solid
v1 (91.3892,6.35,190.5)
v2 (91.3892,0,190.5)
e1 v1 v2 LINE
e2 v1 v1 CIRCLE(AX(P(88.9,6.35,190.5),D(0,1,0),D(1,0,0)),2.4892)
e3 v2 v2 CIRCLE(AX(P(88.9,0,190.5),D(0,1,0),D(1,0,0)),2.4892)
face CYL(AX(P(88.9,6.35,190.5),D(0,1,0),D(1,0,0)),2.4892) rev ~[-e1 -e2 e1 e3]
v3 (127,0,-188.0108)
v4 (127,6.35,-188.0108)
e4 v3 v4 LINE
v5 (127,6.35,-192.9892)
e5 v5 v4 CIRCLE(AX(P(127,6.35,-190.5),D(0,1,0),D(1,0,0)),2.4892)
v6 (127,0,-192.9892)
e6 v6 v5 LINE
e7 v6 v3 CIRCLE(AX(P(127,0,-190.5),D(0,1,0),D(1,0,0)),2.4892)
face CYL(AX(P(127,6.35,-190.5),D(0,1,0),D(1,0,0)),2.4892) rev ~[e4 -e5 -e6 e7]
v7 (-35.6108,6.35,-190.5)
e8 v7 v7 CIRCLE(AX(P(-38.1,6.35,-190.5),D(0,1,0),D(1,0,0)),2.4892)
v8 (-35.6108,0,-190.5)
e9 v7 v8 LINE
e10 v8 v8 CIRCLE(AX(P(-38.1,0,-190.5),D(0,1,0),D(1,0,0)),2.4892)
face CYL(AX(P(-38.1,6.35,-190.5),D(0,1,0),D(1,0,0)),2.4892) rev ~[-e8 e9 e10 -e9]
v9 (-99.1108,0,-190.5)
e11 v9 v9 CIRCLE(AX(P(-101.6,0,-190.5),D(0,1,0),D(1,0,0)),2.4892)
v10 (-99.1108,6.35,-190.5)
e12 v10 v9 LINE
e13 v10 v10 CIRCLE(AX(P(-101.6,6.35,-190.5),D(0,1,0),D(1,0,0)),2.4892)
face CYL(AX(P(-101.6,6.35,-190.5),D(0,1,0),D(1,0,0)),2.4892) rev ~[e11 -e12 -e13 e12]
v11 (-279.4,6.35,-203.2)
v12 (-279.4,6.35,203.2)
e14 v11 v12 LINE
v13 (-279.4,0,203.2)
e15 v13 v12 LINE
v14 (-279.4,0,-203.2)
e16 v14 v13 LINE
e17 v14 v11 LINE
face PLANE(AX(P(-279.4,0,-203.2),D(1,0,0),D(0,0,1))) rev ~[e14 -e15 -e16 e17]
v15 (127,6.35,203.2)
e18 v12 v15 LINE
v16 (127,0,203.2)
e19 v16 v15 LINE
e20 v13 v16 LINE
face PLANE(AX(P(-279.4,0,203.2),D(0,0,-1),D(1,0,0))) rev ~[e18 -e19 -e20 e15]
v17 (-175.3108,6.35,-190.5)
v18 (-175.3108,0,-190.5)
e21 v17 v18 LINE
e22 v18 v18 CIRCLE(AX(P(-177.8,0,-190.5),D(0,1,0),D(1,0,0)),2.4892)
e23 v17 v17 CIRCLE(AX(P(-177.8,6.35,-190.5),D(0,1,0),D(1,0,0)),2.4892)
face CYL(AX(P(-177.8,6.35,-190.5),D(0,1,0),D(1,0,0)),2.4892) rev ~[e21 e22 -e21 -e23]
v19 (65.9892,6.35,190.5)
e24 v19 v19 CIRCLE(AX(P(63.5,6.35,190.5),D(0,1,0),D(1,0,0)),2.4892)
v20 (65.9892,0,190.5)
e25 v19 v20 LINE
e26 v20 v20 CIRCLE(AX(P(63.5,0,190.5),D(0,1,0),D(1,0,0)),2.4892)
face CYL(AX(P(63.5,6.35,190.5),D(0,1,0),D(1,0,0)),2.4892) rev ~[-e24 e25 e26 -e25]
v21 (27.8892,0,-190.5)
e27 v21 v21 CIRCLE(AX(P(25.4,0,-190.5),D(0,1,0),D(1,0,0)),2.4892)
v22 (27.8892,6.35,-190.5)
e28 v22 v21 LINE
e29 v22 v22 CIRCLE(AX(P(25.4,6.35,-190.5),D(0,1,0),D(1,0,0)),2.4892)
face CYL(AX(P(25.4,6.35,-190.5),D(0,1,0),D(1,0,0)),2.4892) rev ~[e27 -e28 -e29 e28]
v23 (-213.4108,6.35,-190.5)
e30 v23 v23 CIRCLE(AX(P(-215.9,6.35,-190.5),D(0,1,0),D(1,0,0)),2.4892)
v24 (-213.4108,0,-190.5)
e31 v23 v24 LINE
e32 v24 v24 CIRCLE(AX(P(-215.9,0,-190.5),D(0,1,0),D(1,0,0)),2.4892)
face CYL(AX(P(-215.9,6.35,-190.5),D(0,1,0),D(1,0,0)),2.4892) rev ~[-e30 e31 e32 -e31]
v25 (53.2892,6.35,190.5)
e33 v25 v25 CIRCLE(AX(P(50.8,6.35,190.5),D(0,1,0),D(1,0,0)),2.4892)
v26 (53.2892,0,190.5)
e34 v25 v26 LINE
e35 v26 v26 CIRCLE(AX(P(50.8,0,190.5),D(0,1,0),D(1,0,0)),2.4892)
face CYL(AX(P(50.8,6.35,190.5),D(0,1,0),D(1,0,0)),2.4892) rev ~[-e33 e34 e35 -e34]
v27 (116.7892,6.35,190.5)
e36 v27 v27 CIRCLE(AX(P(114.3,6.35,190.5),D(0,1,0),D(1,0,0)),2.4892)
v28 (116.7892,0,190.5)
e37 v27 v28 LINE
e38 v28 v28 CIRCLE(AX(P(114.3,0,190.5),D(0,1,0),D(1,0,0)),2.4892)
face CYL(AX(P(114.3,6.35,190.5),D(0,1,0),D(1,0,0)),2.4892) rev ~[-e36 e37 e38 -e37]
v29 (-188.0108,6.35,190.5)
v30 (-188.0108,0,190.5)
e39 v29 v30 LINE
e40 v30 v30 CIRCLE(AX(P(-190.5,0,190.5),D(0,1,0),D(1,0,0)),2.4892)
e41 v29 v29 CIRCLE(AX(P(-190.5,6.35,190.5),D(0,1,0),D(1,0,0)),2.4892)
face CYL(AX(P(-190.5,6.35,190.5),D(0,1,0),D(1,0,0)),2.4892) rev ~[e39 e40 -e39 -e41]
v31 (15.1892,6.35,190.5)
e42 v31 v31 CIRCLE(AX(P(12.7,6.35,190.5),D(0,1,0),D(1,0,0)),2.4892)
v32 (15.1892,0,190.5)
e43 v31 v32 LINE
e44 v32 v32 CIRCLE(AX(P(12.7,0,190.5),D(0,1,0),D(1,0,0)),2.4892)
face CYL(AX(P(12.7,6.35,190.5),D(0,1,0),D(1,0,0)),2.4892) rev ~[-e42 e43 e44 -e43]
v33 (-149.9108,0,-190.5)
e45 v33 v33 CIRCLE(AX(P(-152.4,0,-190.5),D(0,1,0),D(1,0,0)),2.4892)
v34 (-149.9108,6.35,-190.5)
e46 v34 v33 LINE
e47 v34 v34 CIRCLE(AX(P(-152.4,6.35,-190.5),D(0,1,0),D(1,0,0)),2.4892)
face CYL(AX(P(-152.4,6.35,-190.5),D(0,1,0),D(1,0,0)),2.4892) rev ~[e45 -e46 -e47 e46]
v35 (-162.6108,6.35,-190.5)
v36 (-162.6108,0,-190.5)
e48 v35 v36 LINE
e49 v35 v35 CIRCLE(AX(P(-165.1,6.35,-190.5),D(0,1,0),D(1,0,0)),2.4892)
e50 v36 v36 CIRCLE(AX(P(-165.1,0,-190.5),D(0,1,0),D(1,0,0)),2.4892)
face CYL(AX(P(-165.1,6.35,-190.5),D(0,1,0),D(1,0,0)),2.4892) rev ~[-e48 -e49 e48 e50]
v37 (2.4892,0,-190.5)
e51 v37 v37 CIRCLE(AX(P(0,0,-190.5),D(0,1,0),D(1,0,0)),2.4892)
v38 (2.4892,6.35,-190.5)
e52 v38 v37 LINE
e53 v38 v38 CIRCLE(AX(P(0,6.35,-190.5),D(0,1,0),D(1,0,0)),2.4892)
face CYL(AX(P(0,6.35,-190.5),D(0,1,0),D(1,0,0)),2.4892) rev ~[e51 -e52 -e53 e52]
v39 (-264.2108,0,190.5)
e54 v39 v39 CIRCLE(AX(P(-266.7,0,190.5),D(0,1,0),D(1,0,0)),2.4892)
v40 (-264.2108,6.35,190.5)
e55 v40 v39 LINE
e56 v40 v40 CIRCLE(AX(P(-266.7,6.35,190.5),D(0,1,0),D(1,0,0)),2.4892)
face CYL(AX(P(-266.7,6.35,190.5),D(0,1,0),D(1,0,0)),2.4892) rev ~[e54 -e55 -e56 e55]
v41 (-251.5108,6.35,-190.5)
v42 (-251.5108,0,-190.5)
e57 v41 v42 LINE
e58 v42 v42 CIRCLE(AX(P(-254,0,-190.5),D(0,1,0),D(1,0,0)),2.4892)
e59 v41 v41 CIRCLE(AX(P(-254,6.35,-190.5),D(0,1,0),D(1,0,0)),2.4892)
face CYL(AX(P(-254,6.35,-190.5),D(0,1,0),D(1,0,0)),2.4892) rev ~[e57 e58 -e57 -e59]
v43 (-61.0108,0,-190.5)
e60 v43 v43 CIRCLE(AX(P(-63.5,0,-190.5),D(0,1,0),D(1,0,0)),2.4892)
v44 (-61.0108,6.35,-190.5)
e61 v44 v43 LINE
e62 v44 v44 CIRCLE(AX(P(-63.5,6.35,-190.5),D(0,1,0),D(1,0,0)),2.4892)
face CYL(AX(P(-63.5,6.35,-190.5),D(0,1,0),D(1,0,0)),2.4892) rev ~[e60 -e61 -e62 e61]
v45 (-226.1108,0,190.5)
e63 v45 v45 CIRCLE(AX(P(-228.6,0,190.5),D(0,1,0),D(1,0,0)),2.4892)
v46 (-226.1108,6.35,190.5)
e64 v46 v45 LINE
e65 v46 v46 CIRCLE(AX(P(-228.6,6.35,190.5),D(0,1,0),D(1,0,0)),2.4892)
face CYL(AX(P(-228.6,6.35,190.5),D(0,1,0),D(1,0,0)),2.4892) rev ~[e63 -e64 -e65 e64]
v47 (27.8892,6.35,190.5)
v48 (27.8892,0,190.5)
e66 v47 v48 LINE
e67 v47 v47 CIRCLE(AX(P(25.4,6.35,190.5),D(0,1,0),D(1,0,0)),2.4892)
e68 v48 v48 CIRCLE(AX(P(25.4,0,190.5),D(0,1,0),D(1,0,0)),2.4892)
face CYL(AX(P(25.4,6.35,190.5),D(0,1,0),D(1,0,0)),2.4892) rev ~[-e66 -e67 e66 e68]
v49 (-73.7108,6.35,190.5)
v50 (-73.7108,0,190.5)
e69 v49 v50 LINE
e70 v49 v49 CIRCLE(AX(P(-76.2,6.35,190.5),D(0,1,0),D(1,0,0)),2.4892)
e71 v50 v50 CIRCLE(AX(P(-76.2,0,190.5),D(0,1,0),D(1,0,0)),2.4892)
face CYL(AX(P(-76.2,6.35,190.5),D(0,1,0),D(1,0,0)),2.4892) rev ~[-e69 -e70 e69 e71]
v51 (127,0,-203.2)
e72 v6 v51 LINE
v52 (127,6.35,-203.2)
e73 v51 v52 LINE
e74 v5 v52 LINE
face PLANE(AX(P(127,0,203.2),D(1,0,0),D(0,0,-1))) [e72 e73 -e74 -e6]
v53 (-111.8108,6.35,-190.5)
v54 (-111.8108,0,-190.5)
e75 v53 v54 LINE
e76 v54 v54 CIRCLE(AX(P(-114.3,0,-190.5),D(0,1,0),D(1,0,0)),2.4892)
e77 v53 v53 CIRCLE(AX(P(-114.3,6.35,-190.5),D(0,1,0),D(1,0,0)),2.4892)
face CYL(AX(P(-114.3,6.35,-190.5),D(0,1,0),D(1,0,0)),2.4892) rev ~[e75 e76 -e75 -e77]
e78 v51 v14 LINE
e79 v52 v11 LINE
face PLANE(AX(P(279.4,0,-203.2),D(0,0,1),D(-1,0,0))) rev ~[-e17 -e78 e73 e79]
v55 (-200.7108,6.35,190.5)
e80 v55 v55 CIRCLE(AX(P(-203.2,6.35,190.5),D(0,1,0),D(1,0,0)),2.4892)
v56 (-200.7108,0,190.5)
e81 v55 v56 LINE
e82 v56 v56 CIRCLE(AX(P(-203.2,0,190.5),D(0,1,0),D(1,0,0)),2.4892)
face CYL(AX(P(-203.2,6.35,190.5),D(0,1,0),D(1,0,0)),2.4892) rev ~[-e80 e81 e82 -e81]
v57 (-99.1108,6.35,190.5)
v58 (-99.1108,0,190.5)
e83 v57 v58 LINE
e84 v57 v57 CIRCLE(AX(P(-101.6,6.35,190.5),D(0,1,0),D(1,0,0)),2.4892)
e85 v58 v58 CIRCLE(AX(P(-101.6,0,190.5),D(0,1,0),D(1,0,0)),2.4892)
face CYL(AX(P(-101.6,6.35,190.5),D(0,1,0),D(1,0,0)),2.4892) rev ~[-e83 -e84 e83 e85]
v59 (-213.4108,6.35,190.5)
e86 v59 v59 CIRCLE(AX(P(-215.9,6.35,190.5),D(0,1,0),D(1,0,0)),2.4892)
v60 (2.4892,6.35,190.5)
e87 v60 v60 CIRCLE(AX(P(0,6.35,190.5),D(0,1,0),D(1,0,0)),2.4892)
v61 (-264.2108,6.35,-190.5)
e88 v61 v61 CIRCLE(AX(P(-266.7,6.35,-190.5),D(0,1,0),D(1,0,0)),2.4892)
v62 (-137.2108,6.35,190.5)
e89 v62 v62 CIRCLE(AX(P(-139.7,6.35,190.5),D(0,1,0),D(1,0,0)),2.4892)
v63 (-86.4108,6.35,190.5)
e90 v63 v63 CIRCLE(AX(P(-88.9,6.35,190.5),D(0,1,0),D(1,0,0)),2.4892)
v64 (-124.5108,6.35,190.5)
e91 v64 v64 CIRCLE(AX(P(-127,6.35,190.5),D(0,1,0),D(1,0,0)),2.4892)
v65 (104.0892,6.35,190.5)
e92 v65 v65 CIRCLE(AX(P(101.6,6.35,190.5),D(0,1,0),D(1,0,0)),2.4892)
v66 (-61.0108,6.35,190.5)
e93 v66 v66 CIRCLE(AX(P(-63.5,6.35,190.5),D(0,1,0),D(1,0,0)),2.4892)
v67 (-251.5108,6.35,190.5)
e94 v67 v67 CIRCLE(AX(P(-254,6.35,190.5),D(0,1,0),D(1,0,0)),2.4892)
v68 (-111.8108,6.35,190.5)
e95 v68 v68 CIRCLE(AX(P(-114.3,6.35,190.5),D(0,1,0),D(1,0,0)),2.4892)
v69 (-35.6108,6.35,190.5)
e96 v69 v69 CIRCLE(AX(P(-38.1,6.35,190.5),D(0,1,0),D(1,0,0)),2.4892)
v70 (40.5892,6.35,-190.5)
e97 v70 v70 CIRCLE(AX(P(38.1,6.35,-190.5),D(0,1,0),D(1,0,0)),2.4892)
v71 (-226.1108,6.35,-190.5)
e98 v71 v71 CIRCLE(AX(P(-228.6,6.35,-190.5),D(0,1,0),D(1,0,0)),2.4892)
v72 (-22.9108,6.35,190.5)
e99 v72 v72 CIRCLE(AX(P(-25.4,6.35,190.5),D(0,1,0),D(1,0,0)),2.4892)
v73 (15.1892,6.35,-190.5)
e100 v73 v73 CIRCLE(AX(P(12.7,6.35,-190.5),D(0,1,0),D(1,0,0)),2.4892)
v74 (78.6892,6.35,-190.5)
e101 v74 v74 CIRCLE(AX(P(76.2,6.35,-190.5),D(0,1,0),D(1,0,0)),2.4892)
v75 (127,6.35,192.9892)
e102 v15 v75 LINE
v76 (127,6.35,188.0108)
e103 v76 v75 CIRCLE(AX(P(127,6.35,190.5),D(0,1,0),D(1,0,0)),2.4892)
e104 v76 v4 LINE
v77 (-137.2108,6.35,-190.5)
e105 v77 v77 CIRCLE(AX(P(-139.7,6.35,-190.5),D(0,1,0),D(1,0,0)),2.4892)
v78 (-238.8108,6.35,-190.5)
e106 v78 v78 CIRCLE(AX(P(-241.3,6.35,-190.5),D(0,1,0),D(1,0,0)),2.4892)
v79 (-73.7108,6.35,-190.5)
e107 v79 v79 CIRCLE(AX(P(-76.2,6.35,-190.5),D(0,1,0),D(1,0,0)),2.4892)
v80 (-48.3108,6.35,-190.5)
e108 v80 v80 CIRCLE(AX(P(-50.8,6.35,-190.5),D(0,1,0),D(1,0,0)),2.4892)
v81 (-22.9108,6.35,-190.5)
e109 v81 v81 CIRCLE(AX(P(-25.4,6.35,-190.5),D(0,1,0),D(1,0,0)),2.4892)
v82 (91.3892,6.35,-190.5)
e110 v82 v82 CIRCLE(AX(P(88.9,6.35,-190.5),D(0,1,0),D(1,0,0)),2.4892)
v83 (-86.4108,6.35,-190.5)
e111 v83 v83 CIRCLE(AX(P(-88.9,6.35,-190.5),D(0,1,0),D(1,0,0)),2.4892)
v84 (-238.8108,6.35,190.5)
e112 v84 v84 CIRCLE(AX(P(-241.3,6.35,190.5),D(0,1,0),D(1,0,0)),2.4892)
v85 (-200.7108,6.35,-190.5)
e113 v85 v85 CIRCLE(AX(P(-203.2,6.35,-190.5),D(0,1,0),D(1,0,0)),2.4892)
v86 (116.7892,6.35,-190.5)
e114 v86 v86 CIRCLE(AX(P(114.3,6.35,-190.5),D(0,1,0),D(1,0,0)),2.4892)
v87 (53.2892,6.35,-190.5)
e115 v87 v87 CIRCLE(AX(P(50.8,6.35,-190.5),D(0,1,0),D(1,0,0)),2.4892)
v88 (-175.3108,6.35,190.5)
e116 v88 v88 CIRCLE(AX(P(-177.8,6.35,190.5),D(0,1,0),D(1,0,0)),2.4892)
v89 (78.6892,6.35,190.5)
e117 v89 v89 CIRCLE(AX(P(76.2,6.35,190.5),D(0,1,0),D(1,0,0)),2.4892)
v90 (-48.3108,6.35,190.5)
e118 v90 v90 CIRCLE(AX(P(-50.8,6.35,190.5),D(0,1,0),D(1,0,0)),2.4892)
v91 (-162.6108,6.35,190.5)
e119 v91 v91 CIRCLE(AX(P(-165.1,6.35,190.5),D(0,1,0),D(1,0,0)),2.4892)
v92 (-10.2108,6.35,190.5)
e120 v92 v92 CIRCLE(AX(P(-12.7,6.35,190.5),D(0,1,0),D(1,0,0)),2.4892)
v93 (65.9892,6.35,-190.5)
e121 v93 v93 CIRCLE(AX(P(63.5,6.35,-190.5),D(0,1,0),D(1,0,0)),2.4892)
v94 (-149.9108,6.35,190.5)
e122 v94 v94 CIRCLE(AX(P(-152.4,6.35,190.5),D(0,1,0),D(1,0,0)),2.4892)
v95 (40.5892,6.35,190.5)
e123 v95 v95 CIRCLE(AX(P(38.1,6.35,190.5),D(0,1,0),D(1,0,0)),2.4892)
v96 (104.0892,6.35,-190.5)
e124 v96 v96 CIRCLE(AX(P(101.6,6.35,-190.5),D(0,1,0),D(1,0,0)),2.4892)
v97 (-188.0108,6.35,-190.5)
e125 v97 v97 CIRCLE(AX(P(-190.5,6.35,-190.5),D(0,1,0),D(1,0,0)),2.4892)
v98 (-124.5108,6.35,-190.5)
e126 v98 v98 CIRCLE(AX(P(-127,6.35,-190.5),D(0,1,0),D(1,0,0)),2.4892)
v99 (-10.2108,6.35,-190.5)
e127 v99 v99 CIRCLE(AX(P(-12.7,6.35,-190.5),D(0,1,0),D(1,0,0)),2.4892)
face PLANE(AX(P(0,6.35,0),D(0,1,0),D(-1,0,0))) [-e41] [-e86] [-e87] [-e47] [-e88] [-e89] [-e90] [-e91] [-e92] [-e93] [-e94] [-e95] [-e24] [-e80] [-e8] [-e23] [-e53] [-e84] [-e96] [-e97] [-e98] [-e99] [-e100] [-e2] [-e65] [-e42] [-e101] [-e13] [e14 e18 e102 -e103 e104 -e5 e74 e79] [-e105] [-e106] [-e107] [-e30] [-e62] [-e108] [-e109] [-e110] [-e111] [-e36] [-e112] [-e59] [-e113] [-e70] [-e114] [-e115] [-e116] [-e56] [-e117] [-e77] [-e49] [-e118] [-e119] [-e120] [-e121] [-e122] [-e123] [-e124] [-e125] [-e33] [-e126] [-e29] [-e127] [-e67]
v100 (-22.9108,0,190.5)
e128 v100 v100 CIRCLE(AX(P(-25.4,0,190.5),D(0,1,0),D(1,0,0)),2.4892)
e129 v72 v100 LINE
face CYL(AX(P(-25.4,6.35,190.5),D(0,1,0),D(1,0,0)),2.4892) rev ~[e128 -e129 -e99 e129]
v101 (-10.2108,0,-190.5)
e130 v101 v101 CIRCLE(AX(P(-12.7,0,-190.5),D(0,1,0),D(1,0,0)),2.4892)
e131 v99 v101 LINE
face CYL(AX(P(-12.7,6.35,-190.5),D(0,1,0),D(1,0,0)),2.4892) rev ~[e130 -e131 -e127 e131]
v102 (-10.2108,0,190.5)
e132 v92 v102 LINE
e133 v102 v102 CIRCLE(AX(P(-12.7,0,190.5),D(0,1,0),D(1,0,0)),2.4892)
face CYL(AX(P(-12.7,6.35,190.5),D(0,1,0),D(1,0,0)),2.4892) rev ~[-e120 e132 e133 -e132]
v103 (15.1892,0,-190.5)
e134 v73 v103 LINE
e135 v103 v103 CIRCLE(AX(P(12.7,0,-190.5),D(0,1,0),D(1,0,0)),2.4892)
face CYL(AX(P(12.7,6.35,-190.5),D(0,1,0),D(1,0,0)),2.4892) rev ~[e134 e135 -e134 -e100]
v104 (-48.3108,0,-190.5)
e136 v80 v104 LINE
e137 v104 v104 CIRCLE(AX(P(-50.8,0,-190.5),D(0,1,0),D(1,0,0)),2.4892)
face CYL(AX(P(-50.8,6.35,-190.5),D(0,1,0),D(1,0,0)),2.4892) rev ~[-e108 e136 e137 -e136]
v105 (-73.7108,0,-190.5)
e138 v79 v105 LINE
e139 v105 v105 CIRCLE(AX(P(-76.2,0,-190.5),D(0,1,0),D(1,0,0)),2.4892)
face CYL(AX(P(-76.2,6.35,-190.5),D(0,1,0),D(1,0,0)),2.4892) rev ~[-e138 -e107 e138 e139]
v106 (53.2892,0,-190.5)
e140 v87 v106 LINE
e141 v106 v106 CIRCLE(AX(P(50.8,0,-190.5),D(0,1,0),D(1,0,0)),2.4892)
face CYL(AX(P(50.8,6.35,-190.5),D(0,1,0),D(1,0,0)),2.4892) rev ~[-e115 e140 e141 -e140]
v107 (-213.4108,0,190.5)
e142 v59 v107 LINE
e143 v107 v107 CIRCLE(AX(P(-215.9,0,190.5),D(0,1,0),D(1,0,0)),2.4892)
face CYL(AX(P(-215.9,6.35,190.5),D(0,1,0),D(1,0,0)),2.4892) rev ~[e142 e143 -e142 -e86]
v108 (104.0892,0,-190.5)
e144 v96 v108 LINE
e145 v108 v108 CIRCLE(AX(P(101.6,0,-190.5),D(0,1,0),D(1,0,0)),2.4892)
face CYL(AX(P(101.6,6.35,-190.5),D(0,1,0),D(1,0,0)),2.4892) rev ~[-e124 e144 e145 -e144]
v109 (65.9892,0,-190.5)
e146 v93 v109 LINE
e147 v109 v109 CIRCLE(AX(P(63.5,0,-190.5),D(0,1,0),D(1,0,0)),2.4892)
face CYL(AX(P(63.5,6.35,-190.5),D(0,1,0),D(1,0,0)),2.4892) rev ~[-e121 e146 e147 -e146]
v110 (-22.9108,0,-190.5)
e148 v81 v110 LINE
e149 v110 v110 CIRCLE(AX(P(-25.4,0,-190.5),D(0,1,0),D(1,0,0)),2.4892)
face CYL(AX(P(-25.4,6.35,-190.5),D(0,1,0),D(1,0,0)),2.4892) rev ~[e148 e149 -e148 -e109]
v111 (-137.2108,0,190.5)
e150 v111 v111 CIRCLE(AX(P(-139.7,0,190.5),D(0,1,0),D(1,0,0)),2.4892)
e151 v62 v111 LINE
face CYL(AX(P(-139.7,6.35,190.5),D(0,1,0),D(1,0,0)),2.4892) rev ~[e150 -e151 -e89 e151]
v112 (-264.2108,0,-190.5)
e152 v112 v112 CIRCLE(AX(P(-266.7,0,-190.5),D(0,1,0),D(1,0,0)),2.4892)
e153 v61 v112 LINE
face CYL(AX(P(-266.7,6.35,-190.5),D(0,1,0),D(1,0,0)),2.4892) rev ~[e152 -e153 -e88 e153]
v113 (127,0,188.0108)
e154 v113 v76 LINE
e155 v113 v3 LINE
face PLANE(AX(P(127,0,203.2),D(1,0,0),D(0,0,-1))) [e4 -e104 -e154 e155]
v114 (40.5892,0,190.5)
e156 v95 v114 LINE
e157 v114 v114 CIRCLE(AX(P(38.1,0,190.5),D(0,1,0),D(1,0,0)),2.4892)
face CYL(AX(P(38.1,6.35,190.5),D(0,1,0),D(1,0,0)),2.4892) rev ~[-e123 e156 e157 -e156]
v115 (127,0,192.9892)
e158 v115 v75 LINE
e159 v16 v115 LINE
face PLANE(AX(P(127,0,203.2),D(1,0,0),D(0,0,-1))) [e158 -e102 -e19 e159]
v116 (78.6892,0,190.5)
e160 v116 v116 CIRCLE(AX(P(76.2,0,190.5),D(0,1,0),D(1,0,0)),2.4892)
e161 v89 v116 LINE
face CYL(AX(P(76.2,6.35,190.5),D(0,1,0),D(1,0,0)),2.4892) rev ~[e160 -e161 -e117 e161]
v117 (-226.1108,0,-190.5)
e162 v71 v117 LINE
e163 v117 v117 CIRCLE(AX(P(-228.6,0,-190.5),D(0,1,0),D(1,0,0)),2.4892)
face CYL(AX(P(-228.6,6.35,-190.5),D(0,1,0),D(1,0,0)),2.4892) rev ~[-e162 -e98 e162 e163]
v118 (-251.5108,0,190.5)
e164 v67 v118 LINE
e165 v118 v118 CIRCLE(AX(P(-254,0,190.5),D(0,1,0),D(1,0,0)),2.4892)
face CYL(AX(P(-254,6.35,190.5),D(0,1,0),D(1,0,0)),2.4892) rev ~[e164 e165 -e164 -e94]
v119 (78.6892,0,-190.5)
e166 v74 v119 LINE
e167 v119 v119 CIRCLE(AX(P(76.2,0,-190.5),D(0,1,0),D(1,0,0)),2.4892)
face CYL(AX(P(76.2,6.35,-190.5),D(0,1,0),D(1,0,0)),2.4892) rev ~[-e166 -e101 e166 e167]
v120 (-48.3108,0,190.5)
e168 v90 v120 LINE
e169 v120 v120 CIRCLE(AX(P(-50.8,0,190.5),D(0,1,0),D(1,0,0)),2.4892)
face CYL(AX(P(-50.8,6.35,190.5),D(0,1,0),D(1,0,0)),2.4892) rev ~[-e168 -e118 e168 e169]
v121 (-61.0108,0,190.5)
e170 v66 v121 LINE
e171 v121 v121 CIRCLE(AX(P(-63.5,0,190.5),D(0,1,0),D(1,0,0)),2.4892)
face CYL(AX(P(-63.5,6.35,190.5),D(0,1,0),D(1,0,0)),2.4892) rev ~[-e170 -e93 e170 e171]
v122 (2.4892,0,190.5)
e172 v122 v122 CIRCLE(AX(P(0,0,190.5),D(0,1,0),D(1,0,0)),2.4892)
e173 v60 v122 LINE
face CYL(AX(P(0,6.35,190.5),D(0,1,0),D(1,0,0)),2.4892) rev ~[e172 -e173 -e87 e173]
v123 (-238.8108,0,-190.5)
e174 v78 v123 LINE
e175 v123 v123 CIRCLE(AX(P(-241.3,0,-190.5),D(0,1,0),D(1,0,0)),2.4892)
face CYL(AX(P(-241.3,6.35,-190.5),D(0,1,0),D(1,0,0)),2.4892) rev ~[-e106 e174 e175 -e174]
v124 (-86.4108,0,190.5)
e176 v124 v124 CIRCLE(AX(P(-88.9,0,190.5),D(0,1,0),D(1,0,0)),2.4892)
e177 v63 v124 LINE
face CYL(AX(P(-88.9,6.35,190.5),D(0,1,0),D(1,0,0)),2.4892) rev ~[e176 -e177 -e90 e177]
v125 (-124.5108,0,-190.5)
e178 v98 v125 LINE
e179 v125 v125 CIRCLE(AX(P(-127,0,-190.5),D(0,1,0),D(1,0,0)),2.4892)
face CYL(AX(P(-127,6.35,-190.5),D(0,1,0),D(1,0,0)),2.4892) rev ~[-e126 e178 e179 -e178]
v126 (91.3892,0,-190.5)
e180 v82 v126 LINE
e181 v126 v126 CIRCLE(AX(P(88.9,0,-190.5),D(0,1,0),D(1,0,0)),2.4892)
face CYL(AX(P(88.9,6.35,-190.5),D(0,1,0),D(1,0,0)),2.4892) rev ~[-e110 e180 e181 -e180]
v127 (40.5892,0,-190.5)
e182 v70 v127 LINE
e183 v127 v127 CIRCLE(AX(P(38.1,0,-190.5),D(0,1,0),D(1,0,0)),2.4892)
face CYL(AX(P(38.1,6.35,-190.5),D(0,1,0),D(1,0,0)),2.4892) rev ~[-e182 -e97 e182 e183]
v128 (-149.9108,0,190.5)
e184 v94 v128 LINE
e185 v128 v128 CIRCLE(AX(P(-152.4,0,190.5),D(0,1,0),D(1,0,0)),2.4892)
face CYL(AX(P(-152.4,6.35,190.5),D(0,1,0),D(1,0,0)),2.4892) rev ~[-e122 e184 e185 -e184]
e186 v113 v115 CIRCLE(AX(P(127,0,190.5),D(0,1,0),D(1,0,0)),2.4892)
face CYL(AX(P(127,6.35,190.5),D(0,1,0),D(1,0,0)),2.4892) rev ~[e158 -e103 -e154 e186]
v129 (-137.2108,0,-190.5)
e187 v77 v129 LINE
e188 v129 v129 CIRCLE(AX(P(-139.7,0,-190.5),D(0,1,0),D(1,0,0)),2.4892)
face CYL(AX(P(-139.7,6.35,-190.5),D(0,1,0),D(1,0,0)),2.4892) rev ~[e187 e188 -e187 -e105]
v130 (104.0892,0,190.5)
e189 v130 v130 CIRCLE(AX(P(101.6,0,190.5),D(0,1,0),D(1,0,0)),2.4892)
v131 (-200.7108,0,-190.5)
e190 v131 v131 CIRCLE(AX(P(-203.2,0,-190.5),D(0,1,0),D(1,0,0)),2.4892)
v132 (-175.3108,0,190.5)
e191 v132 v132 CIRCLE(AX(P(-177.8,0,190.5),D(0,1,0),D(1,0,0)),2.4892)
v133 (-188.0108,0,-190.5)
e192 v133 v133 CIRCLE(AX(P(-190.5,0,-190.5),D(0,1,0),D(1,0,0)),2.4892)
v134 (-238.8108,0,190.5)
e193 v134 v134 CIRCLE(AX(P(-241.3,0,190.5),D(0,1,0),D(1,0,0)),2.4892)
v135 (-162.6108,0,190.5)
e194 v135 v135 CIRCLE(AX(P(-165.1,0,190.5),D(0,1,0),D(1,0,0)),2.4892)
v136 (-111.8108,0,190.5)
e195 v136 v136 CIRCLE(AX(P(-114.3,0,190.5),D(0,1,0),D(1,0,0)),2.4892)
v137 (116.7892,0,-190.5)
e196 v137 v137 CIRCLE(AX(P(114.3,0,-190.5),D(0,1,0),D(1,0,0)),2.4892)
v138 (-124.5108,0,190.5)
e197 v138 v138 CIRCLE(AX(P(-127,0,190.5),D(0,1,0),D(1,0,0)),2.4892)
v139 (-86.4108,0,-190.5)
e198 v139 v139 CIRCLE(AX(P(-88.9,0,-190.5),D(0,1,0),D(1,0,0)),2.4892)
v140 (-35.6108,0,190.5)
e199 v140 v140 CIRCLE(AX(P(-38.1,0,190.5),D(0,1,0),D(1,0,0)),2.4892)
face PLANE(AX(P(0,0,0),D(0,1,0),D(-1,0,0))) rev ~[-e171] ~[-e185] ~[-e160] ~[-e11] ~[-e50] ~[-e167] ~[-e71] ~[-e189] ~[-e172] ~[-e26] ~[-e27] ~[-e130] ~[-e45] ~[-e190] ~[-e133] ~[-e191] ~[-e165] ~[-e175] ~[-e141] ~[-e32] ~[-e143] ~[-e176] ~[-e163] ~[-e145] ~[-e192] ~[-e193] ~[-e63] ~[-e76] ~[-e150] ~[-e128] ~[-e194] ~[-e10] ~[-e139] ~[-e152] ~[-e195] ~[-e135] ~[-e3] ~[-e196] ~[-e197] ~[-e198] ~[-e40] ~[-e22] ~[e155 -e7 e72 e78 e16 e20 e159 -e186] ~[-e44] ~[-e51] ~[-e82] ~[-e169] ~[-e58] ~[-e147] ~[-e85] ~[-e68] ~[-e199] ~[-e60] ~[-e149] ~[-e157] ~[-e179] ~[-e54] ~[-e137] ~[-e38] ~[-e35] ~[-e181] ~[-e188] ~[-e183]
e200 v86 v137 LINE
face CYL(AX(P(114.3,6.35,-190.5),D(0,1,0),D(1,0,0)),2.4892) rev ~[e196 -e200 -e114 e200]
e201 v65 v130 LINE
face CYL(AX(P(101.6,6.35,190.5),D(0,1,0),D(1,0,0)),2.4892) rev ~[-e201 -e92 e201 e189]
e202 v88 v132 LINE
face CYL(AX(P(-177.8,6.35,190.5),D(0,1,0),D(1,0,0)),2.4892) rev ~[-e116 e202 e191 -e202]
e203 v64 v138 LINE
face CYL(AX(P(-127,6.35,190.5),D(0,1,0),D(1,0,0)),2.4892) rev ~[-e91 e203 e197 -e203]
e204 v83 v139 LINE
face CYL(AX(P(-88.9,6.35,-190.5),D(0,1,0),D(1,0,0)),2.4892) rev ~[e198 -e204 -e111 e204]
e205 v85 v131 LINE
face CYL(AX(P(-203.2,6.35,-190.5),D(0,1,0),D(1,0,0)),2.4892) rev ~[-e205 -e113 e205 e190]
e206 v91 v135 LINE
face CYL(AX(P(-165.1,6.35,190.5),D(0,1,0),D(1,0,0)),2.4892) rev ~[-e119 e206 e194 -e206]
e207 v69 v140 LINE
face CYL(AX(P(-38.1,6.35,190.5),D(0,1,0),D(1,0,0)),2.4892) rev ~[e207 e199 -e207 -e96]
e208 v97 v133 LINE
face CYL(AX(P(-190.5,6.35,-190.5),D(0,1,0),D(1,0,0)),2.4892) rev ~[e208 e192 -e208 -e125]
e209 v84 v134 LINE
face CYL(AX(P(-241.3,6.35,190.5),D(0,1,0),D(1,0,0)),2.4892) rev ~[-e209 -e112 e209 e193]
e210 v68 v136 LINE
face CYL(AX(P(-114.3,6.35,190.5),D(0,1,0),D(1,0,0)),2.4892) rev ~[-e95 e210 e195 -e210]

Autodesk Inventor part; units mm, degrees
ref_plane "YZ Plane" through (0, 0, 0) normal (1, 0, 0) x (0, 1, 0)
ref_plane "XZ Plane" through (0, 0, 0) normal (0, 1, 0) x (-1, 0, 0)
ref_plane "XY Plane" through (0, 0, 0) normal (0, 0, 1) x (1, 0, 0)
sketch "Sketch1" plane through (0, 0, 0) normal (0, 1, 0) x (-1, 0, 0)
  line L0 (279.4, 203.2) -> (-279.4, 203.2)
  line L1 (-279.4, 203.2) -> (-279.4, -203.2)
  line L2 (-279.4, -203.2) -> (279.4, -203.2)
  line L3 (279.4, -203.2) -> (279.4, 203.2)
  line L4 (279.4, 203.2) -> (-279.4, -203.2) construction
  line L5 (-279.4, 203.2) -> (279.4, -203.2) construction
  point P0 (0, 0)
  dimension "d0" = 558.8
  dimension "d1" = 406.4
extrude "Extrusion1" add sketch "Sketch1" along normal blind 6.35
sketch "Sketch2" plane through (0, 6.35, 0) normal (0, 1, 0) x (1, 0, 0)
  circle A0 centre (-266.7, -190.5) radius 2.4892
  line L0 (-279.4, 203.2) -> (-279.4, -203.2) projected
  line L1 (-279.4, -203.2) -> (279.4, -203.2) projected
  circle A1 centre (-254, -190.5) radius 2.4892
  circle A2 centre (-241.3, -190.5) radius 2.4892
  circle A3 centre (-228.6, -190.5) radius 2.4892
  circle A4 centre (-215.9, -190.5) radius 2.4892
  circle A5 centre (-203.2, -190.5) radius 2.4892
  circle A6 centre (-190.5, -190.5) radius 2.4892
  circle A7 centre (-177.8, -190.5) radius 2.4892
  circle A8 centre (-165.1, -190.5) radius 2.4892
  circle A9 centre (-152.4, -190.5) radius 2.4892
  circle A10 centre (-139.7, -190.5) radius 2.4892
  circle A11 centre (-127, -190.5) radius 2.4892
  circle A12 centre (-114.3, -190.5) radius 2.4892
  circle A13 centre (-101.6, -190.5) radius 2.4892
  circle A14 centre (-88.9, -190.5) radius 2.4892
  circle A15 centre (-76.2, -190.5) radius 2.4892
  circle A16 centre (-63.5, -190.5) radius 2.4892
  circle A17 centre (-50.8, -190.5) radius 2.4892
  circle A18 centre (-38.1, -190.5) radius 2.4892
  circle A19 centre (-25.4, -190.5) radius 2.4892
  circle A20 centre (-12.7, -190.5) radius 2.4892
  circle A21 centre (0, -190.5) radius 2.4892
  circle A22 centre (12.7, -190.5) radius 2.4892
  circle A23 centre (25.4, -190.5) radius 2.4892
  circle A24 centre (38.1, -190.5) radius 2.4892
  circle A25 centre (50.8, -190.5) radius 2.4892
  circle A26 centre (63.5, -190.5) radius 2.4892
  circle A27 centre (76.2, -190.5) radius 2.4892
  circle A28 centre (88.9, -190.5) radius 2.4892
  circle A29 centre (101.6, -190.5) radius 2.4892
  circle A30 centre (114.3, -190.5) radius 2.4892
  circle A31 centre (127, -190.5) radius 2.4892
  circle A32 centre (139.7, -190.5) radius 2.4892
  circle A33 centre (152.4, -190.5) radius 2.4892
  circle A34 centre (165.1, -190.5) radius 2.4892
  circle A35 centre (177.8, -190.5) radius 2.4892
  circle A36 centre (190.5, -190.5) radius 2.4892
  circle A37 centre (203.2, -190.5) radius 2.4892
  circle A38 centre (215.9, -190.5) radius 2.4892
  circle A39 centre (228.6, -190.5) radius 2.4892
  circle A40 centre (241.3, -190.5) radius 2.4892
  circle A41 centre (254, -190.5) radius 2.4892
  circle A42 centre (266.7, -190.5) radius 2.4892
  line L2 (-329.0409, 0) -> (315.6584, 0) construction
  circle A43 centre (-266.7, 190.5) radius 2.4892
  circle A44 centre (-254, 190.5) radius 2.4892
  circle A45 centre (-241.3, 190.5) radius 2.4892
  circle A46 centre (-228.6, 190.5) radius 2.4892
  circle A47 centre (-215.9, 190.5) radius 2.4892
  circle A48 centre (-203.2, 190.5) radius 2.4892
  circle A49 centre (-190.5, 190.5) radius 2.4892
  circle A50 centre (-177.8, 190.5) radius 2.4892
  circle A51 centre (-165.1, 190.5) radius 2.4892
  circle A52 centre (-152.4, 190.5) radius 2.4892
  circle A53 centre (-139.7, 190.5) radius 2.4892
  circle A54 centre (-127, 190.5) radius 2.4892
  circle A55 centre (-114.3, 190.5) radius 2.4892
  circle A56 centre (-101.6, 190.5) radius 2.4892
  circle A57 centre (-88.9, 190.5) radius 2.4892
  circle A58 centre (-76.2, 190.5) radius 2.4892
  circle A59 centre (-63.5, 190.5) radius 2.4892
  circle A60 centre (-50.8, 190.5) radius 2.4892
  circle A61 centre (-38.1, 190.5) radius 2.4892
  circle A62 centre (-25.4, 190.5) radius 2.4892
  circle A63 centre (-12.7, 190.5) radius 2.4892
  circle A64 centre (0, 190.5) radius 2.4892
  circle A65 centre (12.7, 190.5) radius 2.4892
  circle A66 centre (25.4, 190.5) radius 2.4892
  circle A67 centre (38.1, 190.5) radius 2.4892
  circle A68 centre (50.8, 190.5) radius 2.4892
  circle A69 centre (63.5, 190.5) radius 2.4892
  circle A70 centre (76.2, 190.5) radius 2.4892
  circle A71 centre (88.9, 190.5) radius 2.4892
  circle A72 centre (101.6, 190.5) radius 2.4892
  circle A73 centre (114.3, 190.5) radius 2.4892
  circle A74 centre (127, 190.5) radius 2.4892
  circle A75 centre (139.7, 190.5) radius 2.4892
  circle A76 centre (152.4, 190.5) radius 2.4892
  circle A77 centre (165.1, 190.5) radius 2.4892
  circle A78 centre (177.8, 190.5) radius 2.4892
  circle A79 centre (190.5, 190.5) radius 2.4892
  circle A80 centre (203.2, 190.5) radius 2.4892
  circle A81 centre (215.9, 190.5) radius 2.4892
  circle A82 centre (228.6, 190.5) radius 2.4892
  circle A83 centre (241.3, 190.5) radius 2.4892
  circle A84 centre (254, 190.5) radius 2.4892
  circle A85 centre (266.7, 190.5) radius 2.4892
  point P0 (0, 0)
  dimension "d4" = 4.9784
  dimension "d5" = 12.7
  dimension "d6" = 12.7
  dimension "d9" = 12.7
extrude "Extrusion2" cut sketch "Sketch2" against normal blind 6.35
sketch "Sketch3" plane through (279.4, 0, 203.2) normal (1, 0, 0) x (0, 0, -1)
  line L0 (0, 0) -> (406.4, 0) projected
  line L1 (406.4, 0) -> (406.4, 6.35) projected
  line L2 (0, 6.35) -> (406.4, 6.35) projected
  line L3 (0, 0) -> (0, 6.35) projected
  point P0 (203.2, 0)
extrude "Extrusion3" cut sketch "Sketch3" against normal blind 152.4
properties part number "Polycarbonate-Note-Rest" material "Polycarbonate, Smoke"
